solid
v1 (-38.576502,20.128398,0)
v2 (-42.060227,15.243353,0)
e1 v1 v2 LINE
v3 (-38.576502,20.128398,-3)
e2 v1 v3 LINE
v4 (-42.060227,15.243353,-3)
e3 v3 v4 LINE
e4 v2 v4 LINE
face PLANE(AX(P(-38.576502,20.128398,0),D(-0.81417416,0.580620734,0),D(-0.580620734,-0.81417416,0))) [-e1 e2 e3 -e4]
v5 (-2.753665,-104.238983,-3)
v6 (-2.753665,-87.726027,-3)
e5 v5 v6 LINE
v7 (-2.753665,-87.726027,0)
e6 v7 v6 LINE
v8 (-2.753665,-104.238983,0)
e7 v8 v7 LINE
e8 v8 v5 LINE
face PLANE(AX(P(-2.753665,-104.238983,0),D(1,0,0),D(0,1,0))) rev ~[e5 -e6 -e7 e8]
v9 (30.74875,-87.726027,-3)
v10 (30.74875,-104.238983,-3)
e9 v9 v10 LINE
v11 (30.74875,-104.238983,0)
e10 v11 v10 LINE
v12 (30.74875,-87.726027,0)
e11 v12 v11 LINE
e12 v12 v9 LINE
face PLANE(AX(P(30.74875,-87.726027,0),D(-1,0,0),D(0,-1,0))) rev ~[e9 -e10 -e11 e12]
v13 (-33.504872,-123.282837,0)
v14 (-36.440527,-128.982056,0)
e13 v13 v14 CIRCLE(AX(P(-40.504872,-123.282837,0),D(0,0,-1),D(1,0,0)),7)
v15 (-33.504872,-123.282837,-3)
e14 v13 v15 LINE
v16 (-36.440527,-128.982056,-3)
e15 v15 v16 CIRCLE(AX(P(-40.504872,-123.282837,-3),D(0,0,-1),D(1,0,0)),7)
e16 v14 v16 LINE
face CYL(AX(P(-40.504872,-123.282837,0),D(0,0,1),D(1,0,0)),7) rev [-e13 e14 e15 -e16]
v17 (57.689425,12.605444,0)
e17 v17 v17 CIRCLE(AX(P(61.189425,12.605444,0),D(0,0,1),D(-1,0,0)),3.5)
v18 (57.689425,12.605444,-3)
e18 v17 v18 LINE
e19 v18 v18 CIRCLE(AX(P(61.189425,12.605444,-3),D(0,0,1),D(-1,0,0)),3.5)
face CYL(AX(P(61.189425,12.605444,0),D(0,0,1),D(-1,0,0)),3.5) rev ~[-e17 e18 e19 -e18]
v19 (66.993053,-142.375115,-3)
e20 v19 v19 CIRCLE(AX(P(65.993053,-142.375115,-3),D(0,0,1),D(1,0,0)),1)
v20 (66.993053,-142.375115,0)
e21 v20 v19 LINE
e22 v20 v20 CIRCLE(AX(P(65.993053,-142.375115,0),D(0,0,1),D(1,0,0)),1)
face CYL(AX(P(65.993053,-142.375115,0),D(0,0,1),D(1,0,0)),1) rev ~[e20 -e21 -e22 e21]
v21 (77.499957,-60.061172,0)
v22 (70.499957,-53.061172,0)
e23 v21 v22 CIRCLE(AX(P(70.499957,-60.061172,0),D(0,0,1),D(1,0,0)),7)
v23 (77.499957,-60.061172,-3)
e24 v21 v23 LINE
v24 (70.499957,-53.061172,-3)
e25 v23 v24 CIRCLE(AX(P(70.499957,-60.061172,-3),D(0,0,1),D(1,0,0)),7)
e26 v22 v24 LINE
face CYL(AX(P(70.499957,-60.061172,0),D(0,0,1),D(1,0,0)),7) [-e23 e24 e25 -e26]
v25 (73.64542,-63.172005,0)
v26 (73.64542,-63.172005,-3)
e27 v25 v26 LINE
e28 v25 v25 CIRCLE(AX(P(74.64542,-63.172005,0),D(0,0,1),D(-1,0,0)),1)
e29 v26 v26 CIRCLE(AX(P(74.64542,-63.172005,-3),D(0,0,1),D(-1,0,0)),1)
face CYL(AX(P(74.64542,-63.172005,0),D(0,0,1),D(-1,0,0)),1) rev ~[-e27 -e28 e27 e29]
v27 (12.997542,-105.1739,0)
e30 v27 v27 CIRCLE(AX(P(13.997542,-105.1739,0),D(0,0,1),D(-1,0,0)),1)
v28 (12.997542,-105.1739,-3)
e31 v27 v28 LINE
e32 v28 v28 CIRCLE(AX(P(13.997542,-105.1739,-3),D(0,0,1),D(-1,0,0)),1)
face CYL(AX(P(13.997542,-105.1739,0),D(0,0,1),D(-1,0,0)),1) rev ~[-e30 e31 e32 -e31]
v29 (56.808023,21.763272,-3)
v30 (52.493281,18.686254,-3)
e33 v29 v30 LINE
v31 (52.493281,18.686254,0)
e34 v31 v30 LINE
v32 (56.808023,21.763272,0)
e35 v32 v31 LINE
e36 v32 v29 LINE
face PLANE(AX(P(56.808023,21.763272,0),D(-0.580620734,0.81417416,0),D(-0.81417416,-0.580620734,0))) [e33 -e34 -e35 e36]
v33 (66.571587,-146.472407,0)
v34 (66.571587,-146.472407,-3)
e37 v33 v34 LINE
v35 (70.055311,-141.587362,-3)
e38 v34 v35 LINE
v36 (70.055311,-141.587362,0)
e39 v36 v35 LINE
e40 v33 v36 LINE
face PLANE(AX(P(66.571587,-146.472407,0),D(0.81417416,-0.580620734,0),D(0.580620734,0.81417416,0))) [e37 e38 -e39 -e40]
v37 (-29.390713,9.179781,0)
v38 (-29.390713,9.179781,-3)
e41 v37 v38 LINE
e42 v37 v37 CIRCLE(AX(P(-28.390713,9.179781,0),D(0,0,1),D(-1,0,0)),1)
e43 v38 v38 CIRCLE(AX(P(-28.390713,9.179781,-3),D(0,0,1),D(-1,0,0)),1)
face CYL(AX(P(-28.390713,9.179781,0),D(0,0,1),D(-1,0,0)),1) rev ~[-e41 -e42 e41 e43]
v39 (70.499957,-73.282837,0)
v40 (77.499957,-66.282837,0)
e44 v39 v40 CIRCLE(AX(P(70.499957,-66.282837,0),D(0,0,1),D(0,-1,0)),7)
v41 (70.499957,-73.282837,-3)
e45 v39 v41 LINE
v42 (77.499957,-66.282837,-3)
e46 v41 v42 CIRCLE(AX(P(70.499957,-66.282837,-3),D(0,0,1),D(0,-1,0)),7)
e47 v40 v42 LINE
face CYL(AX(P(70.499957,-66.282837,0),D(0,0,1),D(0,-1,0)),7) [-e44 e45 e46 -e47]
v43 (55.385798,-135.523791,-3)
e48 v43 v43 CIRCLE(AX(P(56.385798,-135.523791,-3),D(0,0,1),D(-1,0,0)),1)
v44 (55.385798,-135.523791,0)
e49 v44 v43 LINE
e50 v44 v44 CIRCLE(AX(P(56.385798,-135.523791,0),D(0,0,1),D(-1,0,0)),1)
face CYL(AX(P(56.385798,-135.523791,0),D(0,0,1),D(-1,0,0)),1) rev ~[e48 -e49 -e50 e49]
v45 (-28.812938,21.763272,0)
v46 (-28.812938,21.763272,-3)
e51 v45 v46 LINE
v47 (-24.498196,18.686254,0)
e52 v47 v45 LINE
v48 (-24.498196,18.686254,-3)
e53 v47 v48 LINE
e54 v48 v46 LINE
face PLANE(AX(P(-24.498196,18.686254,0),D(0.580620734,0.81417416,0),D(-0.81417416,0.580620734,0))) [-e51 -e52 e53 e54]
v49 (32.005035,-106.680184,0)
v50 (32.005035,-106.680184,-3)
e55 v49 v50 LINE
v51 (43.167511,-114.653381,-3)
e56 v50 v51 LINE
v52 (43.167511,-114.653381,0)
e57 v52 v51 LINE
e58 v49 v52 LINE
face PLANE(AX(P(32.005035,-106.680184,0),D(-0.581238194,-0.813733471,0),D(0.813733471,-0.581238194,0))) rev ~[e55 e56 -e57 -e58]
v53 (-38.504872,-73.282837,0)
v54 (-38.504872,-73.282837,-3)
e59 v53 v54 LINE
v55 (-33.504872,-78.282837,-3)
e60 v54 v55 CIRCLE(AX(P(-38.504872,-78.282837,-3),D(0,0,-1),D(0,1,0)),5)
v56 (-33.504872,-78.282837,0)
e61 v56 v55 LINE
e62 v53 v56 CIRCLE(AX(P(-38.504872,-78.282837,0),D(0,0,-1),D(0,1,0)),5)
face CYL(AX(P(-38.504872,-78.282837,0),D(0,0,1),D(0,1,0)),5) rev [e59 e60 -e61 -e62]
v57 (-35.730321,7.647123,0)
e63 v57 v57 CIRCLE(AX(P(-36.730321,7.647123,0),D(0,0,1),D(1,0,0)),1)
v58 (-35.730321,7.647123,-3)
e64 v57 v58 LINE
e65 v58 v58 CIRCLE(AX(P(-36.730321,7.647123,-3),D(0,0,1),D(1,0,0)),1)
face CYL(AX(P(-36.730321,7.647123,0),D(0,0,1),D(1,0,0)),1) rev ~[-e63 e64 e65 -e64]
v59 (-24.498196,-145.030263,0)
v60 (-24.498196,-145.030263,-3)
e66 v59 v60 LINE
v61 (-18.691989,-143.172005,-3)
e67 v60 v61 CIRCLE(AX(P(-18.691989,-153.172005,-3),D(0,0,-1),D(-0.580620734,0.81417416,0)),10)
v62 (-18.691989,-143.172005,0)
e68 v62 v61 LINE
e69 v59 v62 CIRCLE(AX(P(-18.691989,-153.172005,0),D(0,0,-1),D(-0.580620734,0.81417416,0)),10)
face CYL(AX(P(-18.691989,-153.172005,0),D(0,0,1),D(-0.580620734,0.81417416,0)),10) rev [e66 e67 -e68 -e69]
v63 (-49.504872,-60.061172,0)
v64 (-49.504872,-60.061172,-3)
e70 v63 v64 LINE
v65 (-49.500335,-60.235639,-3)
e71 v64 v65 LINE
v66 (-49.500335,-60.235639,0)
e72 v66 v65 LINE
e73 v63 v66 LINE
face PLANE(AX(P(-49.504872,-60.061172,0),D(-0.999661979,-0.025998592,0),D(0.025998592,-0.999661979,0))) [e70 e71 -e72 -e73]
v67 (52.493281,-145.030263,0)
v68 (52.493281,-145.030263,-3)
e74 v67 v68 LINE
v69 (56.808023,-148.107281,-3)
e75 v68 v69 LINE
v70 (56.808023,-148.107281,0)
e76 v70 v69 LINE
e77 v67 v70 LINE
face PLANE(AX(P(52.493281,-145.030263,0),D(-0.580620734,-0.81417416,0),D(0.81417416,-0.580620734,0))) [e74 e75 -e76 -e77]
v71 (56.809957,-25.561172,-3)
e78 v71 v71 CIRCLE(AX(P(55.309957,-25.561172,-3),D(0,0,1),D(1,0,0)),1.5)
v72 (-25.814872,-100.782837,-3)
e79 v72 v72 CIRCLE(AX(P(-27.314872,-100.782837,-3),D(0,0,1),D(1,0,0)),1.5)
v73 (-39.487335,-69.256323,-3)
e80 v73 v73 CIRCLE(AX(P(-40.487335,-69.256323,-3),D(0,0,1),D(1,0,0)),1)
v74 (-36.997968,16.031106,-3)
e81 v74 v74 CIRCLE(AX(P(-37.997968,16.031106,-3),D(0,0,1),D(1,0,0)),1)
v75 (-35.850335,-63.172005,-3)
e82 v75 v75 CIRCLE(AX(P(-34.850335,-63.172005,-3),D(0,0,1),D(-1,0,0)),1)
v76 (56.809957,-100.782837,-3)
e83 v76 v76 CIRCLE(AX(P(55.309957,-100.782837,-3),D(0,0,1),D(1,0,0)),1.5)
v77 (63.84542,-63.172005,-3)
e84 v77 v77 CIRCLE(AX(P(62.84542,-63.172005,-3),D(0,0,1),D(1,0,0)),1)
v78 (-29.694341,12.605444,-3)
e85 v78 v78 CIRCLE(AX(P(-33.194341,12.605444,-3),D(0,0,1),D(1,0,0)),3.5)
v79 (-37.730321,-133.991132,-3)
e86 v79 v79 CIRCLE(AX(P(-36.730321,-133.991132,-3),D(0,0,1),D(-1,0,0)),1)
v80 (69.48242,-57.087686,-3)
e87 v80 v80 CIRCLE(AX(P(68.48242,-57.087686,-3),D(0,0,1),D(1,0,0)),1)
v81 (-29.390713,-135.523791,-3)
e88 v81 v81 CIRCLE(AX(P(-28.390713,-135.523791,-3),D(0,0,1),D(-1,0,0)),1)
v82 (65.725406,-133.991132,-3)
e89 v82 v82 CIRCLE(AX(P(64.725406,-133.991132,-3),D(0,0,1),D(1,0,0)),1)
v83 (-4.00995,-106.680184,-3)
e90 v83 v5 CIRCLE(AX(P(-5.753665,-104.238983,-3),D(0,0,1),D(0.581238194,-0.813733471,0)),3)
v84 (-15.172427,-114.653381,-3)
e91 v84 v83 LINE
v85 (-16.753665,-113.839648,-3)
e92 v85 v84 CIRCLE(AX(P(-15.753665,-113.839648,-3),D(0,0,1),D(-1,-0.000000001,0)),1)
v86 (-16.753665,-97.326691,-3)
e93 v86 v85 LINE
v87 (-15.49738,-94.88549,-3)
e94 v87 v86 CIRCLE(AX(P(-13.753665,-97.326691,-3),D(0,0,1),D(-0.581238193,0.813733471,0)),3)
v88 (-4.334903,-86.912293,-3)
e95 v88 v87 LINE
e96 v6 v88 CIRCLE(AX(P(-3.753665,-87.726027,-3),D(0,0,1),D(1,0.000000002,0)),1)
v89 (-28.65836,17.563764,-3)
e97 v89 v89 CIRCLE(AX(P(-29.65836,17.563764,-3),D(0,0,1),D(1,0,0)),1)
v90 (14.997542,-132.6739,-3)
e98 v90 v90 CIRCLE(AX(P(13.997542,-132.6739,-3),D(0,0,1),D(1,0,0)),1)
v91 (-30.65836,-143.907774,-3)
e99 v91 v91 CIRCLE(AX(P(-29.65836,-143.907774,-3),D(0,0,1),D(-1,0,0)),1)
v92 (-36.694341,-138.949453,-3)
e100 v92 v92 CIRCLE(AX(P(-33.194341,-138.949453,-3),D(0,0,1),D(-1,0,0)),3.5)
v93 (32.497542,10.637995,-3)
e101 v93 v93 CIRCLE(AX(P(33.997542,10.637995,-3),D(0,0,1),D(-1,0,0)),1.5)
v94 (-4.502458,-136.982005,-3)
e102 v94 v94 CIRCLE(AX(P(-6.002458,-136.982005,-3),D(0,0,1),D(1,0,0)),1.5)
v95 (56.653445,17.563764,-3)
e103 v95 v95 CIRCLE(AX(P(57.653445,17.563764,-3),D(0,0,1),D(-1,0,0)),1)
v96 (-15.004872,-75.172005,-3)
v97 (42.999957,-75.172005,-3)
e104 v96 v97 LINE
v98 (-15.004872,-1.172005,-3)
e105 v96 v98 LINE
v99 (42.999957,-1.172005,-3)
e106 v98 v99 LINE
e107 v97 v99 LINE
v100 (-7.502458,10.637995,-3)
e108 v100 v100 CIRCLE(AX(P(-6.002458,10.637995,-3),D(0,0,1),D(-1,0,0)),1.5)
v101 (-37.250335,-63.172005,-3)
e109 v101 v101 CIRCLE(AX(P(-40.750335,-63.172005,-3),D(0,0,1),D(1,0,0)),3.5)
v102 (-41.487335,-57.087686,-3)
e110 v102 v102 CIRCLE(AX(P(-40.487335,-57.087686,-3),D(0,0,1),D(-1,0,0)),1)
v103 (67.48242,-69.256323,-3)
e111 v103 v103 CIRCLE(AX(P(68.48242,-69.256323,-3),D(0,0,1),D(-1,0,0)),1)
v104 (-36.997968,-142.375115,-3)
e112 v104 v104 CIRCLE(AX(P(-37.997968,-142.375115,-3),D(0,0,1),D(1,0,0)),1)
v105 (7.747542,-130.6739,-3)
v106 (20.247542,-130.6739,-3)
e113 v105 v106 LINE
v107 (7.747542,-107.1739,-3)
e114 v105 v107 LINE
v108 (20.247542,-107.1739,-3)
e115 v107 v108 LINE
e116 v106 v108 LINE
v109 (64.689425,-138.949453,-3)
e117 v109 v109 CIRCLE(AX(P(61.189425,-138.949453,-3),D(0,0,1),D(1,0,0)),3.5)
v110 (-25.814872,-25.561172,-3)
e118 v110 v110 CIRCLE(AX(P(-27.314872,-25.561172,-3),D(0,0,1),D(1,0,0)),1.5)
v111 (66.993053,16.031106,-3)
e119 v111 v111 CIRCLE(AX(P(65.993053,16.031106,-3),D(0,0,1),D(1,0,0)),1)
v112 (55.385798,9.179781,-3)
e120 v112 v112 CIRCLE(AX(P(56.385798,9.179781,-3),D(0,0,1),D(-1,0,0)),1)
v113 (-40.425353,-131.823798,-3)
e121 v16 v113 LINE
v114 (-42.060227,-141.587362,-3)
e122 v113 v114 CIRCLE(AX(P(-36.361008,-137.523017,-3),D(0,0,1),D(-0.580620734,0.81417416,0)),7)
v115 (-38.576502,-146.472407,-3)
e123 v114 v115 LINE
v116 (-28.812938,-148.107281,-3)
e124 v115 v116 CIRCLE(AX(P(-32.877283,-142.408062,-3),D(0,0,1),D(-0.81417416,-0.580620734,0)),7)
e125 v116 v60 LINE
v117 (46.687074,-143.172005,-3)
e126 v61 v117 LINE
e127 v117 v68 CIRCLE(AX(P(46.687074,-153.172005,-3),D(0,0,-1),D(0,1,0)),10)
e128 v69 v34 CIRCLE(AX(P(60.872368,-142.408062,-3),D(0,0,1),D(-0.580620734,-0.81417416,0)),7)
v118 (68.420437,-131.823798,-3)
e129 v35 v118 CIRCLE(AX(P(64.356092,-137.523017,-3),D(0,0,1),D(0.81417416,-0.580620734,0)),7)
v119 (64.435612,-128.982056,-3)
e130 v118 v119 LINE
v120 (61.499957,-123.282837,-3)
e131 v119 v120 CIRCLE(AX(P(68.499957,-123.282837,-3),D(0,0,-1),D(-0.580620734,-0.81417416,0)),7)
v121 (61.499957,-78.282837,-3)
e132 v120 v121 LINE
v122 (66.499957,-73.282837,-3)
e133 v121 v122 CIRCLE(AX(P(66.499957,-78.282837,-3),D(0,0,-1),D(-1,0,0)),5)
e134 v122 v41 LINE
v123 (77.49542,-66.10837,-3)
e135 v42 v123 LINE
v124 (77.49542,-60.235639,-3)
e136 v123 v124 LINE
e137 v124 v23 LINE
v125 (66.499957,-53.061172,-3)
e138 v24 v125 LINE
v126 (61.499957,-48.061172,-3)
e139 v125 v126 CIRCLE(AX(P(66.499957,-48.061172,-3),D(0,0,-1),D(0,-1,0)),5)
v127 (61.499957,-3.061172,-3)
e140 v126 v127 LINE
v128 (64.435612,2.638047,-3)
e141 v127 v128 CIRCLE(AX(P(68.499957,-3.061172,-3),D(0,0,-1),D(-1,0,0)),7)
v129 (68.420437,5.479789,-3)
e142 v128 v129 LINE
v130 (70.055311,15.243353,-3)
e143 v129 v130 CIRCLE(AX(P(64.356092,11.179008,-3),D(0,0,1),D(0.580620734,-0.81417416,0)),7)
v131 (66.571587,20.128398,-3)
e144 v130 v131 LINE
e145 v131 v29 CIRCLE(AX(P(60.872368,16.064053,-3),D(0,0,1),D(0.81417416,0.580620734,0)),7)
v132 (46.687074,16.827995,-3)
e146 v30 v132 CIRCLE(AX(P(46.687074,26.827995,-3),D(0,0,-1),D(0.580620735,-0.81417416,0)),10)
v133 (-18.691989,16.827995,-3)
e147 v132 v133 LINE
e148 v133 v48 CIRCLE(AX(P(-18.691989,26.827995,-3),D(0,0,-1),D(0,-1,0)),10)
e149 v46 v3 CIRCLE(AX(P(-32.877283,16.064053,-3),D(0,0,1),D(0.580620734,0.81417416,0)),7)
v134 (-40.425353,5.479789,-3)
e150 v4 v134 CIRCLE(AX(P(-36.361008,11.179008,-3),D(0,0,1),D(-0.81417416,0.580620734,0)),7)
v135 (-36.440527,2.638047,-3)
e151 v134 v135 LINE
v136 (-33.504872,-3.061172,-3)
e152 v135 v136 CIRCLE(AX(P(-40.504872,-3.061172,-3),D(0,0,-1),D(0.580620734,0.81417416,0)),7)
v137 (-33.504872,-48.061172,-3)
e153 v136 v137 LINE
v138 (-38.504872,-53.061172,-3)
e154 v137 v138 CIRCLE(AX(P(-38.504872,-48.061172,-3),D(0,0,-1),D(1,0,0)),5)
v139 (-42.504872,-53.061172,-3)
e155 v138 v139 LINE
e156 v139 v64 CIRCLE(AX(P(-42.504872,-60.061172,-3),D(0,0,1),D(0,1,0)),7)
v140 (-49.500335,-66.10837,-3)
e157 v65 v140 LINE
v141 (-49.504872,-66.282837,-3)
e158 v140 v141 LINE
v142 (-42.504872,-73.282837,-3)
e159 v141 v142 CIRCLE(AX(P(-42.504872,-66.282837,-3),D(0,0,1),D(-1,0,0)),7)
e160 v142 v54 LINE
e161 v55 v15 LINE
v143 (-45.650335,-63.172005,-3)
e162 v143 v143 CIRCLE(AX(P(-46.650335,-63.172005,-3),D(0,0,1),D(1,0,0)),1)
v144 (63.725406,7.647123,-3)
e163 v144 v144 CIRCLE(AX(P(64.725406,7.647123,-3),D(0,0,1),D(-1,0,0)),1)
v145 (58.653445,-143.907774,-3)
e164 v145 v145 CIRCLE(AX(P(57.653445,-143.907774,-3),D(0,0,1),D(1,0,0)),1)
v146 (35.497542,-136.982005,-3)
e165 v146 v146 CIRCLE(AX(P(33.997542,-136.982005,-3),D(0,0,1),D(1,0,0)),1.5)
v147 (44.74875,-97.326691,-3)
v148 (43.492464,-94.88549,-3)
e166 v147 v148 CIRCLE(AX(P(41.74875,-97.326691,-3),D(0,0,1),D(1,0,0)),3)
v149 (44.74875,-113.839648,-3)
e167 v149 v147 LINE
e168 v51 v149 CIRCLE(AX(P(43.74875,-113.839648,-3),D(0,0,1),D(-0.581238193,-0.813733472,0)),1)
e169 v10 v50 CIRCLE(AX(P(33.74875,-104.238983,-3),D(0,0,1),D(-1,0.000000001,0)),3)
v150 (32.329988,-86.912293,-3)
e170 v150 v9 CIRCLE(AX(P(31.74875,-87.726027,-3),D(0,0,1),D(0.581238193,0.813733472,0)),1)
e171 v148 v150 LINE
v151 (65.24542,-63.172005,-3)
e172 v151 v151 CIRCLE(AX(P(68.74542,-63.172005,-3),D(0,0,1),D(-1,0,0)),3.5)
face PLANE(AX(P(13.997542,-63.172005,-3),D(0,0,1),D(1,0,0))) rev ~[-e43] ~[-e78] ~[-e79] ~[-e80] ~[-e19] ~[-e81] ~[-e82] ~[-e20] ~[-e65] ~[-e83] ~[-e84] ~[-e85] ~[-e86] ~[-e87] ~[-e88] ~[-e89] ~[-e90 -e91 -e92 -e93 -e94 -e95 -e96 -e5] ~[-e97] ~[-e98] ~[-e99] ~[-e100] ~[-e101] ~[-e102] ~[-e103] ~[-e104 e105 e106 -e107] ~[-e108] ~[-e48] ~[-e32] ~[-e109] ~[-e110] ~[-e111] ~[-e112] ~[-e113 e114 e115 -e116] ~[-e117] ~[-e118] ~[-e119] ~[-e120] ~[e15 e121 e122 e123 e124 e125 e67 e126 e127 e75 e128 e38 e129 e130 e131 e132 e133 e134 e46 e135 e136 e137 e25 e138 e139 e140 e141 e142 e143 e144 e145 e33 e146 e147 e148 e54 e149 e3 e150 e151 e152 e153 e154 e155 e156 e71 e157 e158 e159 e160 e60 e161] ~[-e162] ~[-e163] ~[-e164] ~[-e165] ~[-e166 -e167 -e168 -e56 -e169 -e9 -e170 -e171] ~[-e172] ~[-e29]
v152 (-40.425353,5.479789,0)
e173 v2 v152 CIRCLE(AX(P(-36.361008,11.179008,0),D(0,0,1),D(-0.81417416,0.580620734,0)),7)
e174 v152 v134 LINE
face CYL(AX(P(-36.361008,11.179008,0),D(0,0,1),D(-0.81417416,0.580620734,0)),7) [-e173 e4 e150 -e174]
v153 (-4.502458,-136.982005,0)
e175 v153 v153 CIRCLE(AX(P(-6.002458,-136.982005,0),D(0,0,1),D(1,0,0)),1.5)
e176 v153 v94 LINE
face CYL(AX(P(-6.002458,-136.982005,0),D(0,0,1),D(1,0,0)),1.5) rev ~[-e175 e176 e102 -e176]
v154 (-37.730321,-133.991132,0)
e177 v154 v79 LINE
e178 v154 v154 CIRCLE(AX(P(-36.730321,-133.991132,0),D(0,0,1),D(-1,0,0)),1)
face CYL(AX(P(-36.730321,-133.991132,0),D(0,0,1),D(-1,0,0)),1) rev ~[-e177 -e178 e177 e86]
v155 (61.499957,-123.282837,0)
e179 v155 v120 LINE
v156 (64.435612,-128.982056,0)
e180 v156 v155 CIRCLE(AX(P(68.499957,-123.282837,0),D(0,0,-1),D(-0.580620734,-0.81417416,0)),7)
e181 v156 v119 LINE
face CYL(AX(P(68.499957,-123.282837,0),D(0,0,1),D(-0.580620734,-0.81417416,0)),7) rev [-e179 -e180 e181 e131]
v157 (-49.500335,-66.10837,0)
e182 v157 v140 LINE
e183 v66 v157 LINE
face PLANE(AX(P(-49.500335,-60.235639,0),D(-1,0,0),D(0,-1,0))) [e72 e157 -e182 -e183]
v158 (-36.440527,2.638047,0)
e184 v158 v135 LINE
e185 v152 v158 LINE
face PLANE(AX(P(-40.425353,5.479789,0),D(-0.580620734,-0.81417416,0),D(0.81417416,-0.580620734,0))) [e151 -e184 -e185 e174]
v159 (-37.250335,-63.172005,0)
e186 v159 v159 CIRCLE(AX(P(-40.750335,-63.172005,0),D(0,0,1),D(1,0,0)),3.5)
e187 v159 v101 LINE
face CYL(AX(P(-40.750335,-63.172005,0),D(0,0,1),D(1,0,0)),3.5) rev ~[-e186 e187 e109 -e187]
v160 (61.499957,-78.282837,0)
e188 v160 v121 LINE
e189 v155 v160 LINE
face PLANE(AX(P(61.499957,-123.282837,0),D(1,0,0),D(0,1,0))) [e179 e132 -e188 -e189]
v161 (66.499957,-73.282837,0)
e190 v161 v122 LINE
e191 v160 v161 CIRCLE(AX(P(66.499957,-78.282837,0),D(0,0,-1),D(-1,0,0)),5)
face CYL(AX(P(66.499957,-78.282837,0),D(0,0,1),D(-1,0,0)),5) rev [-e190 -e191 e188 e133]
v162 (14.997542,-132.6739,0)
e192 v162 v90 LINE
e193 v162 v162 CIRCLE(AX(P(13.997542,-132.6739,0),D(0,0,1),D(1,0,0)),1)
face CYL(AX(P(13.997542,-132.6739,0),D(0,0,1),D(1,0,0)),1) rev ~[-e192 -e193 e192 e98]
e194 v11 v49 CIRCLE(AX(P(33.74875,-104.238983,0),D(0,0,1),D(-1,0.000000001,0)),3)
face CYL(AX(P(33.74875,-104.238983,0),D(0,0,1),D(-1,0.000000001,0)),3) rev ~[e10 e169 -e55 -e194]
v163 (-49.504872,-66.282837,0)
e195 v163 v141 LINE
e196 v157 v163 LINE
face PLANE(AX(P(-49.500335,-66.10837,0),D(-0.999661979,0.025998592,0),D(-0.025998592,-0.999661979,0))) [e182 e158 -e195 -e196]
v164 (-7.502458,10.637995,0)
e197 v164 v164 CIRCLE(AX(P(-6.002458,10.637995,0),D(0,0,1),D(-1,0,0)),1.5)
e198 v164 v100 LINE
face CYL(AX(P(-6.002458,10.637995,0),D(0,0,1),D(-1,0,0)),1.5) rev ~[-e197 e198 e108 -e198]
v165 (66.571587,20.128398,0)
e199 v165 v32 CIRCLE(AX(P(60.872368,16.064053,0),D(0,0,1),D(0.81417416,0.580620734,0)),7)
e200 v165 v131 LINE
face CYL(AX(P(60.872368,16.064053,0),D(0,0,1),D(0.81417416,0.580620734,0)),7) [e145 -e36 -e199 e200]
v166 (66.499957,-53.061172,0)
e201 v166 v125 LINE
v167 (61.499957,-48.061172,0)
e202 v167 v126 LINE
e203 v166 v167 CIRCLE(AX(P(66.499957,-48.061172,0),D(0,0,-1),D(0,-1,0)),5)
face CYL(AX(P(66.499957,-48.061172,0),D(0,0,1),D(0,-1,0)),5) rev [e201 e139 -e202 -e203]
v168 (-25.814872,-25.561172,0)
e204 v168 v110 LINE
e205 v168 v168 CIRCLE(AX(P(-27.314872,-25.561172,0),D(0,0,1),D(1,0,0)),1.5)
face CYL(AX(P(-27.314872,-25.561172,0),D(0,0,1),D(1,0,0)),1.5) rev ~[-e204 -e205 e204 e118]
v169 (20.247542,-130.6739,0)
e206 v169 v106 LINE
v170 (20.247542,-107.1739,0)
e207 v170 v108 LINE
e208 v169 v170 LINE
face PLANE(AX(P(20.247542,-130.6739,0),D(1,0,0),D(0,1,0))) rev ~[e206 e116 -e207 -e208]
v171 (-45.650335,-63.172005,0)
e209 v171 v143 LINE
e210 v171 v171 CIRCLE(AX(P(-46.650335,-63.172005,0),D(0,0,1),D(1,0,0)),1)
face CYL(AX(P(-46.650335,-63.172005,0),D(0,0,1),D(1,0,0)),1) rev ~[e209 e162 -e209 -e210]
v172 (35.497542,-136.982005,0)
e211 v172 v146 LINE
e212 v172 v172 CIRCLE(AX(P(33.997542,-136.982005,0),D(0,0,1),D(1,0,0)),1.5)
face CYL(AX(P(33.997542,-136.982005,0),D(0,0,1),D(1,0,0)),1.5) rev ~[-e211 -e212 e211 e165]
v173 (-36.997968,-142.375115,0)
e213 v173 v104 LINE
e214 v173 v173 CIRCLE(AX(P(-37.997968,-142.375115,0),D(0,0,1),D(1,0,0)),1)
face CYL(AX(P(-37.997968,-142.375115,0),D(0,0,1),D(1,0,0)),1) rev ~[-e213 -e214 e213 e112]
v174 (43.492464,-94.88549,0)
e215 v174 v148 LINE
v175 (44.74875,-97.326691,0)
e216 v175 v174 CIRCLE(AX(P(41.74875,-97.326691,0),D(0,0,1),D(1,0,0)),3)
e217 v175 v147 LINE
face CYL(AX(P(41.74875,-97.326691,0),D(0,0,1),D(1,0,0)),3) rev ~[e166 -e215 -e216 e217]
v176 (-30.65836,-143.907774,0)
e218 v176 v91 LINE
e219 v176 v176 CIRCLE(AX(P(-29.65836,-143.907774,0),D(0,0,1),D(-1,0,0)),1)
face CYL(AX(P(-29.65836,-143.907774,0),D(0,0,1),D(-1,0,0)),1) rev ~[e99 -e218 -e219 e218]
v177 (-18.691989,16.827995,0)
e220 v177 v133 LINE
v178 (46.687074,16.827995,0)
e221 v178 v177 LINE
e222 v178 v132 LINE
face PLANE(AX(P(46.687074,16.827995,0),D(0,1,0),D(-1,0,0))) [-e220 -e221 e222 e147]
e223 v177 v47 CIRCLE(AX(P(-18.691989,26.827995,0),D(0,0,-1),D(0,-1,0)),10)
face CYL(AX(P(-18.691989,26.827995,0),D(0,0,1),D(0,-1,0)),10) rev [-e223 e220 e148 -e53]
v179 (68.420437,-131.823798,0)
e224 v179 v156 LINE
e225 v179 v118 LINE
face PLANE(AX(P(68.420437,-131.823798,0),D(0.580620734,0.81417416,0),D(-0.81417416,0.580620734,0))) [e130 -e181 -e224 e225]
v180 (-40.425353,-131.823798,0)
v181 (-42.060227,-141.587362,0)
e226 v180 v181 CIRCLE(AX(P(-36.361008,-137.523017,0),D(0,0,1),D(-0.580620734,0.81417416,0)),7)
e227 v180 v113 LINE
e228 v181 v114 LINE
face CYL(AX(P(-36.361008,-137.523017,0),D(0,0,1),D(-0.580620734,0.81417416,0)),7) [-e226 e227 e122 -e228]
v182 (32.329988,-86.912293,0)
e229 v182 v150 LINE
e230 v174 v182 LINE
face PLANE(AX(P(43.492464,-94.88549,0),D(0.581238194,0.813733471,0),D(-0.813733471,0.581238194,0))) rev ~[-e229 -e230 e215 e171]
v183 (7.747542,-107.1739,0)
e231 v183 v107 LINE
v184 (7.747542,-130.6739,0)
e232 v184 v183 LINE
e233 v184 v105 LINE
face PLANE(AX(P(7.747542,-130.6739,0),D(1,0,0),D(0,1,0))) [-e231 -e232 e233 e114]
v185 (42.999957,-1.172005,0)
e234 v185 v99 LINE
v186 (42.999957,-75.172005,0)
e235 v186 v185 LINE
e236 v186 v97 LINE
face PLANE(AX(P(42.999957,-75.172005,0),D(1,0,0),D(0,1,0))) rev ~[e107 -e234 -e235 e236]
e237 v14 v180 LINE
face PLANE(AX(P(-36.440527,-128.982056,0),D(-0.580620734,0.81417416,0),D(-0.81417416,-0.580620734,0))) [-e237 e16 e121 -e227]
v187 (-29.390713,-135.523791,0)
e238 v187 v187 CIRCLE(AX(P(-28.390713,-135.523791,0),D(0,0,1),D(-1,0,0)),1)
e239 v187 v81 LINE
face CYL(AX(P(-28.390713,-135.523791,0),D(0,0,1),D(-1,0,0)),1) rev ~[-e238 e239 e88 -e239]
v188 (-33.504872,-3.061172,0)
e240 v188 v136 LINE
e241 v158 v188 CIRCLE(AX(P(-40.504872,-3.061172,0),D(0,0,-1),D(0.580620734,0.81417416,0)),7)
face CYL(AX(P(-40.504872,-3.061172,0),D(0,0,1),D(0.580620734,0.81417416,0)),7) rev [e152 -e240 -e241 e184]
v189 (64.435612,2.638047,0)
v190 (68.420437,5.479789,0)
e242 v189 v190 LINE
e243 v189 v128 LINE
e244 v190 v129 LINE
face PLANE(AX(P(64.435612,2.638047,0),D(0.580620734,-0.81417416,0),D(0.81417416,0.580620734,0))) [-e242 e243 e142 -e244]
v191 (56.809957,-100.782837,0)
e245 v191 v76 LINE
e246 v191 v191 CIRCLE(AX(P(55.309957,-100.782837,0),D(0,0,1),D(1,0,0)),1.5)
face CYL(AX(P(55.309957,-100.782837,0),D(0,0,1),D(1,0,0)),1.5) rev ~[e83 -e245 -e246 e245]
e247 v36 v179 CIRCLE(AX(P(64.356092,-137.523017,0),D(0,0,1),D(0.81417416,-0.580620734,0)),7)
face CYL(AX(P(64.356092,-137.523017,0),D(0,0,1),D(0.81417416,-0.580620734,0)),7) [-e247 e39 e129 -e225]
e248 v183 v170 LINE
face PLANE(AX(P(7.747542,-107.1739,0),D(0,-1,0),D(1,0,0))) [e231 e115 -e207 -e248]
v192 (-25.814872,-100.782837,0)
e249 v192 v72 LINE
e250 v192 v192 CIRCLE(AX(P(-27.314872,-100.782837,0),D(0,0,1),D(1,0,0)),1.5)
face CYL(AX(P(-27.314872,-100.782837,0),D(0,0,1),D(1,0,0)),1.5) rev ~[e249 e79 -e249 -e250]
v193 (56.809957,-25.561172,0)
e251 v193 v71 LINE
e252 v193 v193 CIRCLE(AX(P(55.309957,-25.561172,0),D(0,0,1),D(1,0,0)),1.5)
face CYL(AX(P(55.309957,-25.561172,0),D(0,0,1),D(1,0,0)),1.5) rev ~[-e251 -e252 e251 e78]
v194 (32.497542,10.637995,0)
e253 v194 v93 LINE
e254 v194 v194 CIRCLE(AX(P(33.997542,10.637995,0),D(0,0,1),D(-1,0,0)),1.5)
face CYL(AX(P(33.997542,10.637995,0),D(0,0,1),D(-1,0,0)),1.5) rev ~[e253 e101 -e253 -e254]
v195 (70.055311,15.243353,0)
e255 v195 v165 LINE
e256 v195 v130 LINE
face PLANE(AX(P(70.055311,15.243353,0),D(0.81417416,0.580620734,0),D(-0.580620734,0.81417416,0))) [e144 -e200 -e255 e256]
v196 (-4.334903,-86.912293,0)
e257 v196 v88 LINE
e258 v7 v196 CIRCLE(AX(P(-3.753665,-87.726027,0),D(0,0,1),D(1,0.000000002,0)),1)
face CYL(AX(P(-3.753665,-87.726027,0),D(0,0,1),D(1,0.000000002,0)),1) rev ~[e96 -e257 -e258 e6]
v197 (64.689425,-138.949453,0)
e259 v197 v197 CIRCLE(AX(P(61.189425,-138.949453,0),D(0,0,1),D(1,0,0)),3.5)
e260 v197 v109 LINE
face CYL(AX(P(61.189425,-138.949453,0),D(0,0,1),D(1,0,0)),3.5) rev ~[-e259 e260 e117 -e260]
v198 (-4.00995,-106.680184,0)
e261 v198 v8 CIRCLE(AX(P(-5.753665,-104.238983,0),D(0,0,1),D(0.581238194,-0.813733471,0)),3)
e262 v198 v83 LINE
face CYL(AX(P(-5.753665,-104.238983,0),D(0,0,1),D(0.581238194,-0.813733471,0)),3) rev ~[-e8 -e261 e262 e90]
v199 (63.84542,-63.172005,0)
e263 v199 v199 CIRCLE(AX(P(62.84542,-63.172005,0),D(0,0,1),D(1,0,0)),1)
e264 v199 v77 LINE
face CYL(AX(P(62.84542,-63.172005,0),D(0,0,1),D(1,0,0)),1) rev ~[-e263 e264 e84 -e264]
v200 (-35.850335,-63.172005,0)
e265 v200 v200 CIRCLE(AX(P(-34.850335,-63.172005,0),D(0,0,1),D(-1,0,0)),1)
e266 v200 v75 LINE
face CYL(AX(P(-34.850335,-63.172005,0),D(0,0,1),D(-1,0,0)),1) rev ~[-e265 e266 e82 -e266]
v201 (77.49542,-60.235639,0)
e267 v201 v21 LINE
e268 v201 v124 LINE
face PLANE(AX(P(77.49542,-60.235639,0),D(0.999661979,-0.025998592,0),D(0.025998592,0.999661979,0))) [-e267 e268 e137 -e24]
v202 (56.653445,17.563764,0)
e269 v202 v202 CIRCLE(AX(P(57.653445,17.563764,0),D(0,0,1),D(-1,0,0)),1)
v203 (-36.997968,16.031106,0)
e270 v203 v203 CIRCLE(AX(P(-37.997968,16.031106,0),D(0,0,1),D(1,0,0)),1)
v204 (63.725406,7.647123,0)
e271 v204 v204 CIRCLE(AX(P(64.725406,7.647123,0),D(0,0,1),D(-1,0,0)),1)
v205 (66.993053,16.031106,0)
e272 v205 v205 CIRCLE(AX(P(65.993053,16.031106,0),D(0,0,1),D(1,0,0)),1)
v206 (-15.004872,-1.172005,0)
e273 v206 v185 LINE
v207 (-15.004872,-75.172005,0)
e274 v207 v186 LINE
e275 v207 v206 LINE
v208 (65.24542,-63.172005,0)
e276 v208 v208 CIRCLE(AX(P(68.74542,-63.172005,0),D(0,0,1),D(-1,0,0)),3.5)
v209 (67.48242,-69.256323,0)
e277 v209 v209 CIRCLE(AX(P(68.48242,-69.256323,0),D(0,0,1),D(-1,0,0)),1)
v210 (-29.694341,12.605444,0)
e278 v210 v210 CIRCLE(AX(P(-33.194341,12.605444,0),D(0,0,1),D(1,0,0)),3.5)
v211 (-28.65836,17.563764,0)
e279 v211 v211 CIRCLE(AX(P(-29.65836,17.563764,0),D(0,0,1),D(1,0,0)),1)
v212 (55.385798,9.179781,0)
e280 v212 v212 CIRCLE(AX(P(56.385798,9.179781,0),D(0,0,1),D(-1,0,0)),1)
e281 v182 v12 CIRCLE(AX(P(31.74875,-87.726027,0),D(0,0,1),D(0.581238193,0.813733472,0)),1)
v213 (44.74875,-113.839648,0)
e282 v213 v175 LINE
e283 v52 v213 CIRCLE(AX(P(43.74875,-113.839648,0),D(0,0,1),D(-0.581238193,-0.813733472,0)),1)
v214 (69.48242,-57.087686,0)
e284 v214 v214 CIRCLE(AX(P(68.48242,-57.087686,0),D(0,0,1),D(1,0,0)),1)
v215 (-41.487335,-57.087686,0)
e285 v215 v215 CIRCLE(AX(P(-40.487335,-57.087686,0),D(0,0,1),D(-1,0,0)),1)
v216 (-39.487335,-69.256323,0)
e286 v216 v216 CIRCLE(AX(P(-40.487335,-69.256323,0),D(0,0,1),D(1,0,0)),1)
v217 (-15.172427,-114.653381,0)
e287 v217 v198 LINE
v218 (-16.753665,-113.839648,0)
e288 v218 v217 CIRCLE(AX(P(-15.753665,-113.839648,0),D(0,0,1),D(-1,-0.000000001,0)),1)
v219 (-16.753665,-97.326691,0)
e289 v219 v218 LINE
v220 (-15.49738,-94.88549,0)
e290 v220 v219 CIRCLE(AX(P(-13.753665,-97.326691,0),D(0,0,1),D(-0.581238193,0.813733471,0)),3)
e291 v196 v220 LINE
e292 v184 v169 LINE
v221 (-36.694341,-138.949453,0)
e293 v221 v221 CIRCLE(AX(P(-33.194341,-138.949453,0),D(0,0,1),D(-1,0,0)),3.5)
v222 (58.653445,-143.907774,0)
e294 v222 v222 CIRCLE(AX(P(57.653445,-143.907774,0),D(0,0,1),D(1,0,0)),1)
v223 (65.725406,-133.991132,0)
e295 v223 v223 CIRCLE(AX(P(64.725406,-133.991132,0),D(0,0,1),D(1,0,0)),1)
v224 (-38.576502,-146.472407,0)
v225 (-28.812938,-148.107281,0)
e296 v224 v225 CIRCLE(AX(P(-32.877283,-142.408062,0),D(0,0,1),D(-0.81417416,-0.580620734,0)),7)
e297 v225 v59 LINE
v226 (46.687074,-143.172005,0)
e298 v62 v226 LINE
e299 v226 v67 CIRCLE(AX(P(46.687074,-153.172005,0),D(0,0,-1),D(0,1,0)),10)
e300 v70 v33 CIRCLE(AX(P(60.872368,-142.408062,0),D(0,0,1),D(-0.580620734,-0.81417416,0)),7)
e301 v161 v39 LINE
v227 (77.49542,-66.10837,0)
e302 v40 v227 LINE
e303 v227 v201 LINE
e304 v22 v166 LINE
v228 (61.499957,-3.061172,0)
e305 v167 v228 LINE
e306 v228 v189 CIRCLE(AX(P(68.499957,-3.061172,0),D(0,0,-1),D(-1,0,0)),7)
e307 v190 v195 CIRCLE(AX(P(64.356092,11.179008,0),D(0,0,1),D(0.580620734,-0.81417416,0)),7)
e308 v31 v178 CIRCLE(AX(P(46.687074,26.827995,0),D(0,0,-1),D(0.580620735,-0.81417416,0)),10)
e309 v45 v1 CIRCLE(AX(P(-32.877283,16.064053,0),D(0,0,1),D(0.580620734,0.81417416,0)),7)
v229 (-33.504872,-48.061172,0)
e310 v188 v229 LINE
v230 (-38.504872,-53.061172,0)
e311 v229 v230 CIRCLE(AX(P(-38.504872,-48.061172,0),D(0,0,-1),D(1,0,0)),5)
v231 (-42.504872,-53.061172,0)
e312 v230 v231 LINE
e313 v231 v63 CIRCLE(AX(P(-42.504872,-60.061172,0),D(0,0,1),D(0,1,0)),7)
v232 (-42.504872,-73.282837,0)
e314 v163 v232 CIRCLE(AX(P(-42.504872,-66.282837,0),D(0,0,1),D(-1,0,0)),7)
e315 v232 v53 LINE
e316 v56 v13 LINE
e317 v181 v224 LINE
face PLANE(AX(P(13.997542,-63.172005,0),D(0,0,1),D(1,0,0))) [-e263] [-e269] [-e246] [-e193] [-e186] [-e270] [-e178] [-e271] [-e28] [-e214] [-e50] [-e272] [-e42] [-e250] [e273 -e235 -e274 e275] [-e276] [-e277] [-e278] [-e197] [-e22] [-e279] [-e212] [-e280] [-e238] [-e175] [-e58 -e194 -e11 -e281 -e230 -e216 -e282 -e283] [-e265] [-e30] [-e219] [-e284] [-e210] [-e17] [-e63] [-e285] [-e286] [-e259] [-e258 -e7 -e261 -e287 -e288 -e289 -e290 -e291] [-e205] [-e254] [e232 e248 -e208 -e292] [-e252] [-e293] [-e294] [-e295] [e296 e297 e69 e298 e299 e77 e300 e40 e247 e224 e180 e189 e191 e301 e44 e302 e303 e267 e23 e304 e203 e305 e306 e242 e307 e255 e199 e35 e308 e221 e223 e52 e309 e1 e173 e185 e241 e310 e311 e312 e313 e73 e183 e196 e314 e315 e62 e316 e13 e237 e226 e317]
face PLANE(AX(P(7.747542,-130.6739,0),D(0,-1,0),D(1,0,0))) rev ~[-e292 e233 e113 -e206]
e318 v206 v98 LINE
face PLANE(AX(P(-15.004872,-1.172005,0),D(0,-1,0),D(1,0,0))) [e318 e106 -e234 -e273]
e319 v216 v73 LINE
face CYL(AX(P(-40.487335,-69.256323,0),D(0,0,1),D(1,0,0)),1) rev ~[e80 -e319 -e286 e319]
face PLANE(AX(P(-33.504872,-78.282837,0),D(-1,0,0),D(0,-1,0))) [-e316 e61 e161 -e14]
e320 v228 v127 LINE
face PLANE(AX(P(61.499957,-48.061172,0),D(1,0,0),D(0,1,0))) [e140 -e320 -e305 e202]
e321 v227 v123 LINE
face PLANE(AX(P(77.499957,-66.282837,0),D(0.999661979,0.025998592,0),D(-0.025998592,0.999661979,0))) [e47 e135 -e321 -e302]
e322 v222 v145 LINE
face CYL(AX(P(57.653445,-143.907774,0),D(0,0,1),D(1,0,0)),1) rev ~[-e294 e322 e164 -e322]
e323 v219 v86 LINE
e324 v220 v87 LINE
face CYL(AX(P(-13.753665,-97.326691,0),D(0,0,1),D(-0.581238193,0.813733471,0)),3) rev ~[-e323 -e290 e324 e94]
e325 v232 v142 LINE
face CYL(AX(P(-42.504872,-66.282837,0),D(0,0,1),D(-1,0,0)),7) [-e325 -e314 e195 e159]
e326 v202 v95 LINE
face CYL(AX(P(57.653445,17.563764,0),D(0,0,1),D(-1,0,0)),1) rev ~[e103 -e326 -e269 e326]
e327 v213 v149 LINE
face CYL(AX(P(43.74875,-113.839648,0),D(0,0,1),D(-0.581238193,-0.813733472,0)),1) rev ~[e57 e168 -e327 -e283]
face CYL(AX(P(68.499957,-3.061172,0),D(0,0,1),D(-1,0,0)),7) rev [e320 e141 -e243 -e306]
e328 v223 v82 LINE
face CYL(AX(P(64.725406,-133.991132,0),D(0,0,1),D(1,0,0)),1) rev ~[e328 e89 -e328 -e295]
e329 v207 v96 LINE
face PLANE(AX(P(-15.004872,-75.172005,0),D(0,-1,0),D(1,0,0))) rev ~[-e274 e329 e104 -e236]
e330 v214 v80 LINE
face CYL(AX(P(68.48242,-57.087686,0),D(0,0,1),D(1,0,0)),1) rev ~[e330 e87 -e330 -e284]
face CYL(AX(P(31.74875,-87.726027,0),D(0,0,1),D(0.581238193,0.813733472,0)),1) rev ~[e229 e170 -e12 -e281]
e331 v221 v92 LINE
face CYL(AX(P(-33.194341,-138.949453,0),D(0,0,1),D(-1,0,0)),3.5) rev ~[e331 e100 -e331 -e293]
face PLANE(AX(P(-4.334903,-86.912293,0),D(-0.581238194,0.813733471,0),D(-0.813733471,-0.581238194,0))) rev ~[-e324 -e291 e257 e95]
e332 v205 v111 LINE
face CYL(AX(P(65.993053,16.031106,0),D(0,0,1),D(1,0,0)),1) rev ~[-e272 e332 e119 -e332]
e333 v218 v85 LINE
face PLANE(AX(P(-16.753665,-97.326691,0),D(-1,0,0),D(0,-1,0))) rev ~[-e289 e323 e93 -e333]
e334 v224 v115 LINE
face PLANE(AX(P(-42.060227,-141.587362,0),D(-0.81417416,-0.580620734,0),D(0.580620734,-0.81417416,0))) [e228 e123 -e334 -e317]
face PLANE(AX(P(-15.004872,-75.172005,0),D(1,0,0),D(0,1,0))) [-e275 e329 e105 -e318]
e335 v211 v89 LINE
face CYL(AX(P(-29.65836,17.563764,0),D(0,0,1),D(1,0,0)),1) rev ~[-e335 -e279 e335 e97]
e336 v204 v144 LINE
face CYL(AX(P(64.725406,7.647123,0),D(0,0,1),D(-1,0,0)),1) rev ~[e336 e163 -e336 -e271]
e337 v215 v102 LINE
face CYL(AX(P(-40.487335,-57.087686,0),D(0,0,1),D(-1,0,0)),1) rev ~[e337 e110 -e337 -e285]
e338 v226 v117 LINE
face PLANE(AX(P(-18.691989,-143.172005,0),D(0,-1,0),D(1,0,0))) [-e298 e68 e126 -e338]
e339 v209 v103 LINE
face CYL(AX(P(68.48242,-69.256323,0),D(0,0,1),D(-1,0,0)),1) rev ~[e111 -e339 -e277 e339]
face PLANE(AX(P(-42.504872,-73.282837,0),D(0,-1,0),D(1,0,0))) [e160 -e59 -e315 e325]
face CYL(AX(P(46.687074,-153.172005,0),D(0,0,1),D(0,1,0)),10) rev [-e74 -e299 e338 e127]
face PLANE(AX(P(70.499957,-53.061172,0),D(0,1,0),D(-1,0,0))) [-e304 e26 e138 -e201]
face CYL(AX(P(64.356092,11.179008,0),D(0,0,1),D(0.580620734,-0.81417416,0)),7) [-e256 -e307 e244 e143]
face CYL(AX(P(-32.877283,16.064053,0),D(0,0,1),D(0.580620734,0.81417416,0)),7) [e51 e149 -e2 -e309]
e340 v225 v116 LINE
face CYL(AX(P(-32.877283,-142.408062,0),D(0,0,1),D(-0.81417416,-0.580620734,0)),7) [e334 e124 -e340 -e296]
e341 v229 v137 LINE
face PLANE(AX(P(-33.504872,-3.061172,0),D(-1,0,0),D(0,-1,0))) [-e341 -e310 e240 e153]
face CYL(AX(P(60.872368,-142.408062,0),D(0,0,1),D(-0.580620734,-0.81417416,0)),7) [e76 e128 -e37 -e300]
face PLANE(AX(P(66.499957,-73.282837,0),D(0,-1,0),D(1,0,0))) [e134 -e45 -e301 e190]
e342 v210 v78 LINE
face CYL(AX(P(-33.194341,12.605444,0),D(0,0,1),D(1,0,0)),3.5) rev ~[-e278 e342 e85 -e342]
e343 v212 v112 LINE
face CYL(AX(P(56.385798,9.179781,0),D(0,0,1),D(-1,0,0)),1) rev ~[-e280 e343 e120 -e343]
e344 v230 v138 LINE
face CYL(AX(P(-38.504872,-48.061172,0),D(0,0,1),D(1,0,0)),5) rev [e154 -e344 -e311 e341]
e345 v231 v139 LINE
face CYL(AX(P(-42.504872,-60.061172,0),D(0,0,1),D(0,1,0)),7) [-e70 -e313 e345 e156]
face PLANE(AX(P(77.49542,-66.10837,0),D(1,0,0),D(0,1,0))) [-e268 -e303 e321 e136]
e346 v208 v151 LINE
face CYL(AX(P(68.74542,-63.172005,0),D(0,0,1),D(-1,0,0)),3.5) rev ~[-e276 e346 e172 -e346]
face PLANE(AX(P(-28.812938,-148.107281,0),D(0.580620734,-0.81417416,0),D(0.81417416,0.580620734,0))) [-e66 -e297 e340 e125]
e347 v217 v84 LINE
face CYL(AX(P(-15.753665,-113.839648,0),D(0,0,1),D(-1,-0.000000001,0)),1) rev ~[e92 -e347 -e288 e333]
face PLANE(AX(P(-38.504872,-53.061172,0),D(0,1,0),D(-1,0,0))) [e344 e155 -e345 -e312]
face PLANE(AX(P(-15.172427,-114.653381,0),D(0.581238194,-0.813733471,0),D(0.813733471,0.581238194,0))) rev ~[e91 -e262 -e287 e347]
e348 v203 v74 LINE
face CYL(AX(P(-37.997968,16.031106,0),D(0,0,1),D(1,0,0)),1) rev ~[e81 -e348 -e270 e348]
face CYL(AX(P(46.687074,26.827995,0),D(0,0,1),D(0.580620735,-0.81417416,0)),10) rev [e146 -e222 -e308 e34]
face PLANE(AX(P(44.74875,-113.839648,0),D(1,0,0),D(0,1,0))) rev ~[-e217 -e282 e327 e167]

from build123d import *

# Parameters (mm, degrees)
SKETCH1_R       = 1
SKETCH1_R_2     = 3.5
SKETCH1_R_3     = 1.5
SKETCH1_W       = 58.004829366
SKETCH1_H       = 74
SKETCH1_W_2     = 12.5
SKETCH1_H_2     = 23.5
EXTRUDE_1_DEPTH = 3


with BuildPart() as part:
    # Sketch1 → Бобышка-Вытянуть1 (new body)
    with BuildSketch(Plane.XY):
        with BuildLine():
            Line((-24.498196466, 18.686253871), (-28.812938034, 21.763271713))
            ThreePointArc((-28.812938034, 21.763271713), (-34.033313652, 22.967935089), (-38.576502294, 20.128397731))
            Line((-38.576502294, 20.128397731), (-42.0602267, 15.24335277))
            ThreePointArc((-42.0602267, 15.24335277), (-43.264890076, 10.022977152), (-40.425352718, 5.47978851))
            Line((-40.425352718, 5.47978851), (-36.440527218, 2.638047245))
            ThreePointArc((-36.440527218, 2.638047245), (-34.281914219, 0.144259766), (-33.504872357, -3.061171876))
            Line((-33.504872357, -3.061171876), (-33.504872357, -48.061171876))
            ThreePointArc((-33.504872357, -48.061171876), (-34.969338451, -51.596705782), (-38.504872357, -53.061171876))
            Line((-38.504872357, -53.061171876), (-42.504872357, -53.061171876))
            ThreePointArc((-42.504872357, -53.061171876), (-47.454619825, -55.111424408), (-49.504872357, -60.061171876))
            Line((-49.504872357, -60.061171876), (-49.500334917, -60.235639257))
            Line((-49.500334917, -60.235639257), (-49.500334917, -66.108369799))
            Line((-49.500334917, -66.108369799), (-49.504872357, -66.28283718))
            ThreePointArc((-49.504872357, -66.28283718), (-47.454619825, -71.232584649), (-42.504872357, -73.28283718))
            Line((-42.504872357, -73.28283718), (-38.504872357, -73.28283718))
            ThreePointArc((-38.504872357, -73.28283718), (-34.969338451, -74.747303275), (-33.504872357, -78.28283718))
            Line((-33.504872357, -78.28283718), (-33.504872357, -123.28283718))
            ThreePointArc((-33.504872357, -123.28283718), (-34.281914219, -126.488268823), (-36.440527218, -128.982056301))
            Line((-36.440527218, -128.982056301), (-40.425352718, -131.823797566))
            ThreePointArc((-40.425352718, -131.823797566), (-43.264890076, -136.366986209), (-42.0602267, -141.587361827))
            Line((-42.0602267, -141.587361827), (-38.576502294, -146.472406787))
            ThreePointArc((-38.576502294, -146.472406787), (-34.033313652, -149.311944145), (-28.812938034, -148.107280769))
            Line((-28.812938034, -148.107280769), (-24.498196466, -145.030262927))
            ThreePointArc((-24.498196466, -145.030262927), (-21.740151192, -143.647892601), (-18.691989124, -143.172004528))
            Line((-18.691989124, -143.172004528), (46.687073776, -143.172004528))
            ThreePointArc((46.687073776, -143.172004528), (49.735235844, -143.647892601), (52.493281118, -145.030262927))
            Line((52.493281118, -145.030262927), (56.808022686, -148.107280769))
            ThreePointArc((56.808022686, -148.107280769), (62.028398304, -149.311944145), (66.571586947, -146.472406787))
            Line((66.571586947, -146.472406787), (70.055311352, -141.587361827))
            ThreePointArc((70.055311352, -141.587361827), (71.259974728, -136.366986209), (68.42043737, -131.823797566))
            Line((68.42043737, -131.823797566), (64.43561187, -128.982056301))
            ThreePointArc((64.43561187, -128.982056301), (62.276998871, -126.488268823), (61.499957009, -123.28283718))
            Line((61.499957009, -123.28283718), (61.499957009, -78.28283718))
            ThreePointArc((61.499957009, -78.28283718), (62.964423103, -74.747303275), (66.499957009, -73.28283718))
            Line((66.499957009, -73.28283718), (70.499957009, -73.28283718))
            ThreePointArc((70.499957009, -73.28283718), (75.449704478, -71.232584649), (77.499957009, -66.28283718))
            Line((77.499957009, -66.28283718), (77.495419569, -66.108369799))
            Line((77.495419569, -66.108369799), (77.495419569, -60.235639257))
            Line((77.495419569, -60.235639257), (77.499957009, -60.061171876))
            ThreePointArc((77.499957009, -60.061171876), (75.449704478, -55.111424407), (70.499957009, -53.061171876))
            Line((70.499957009, -53.061171876), (66.499957009, -53.061171876))
            ThreePointArc((66.499957009, -53.061171876), (62.964423103, -51.596705782), (61.499957009, -48.061171876))
            Line((61.499957009, -48.061171876), (61.499957009, -3.061171876))
            ThreePointArc((61.499957009, -3.061171876), (62.276998871, 0.144259766), (64.43561187, 2.638047245))
            Line((64.43561187, 2.638047245), (68.42043737, 5.47978851))
            ThreePointArc((68.42043737, 5.47978851), (71.259974728, 10.022977152), (70.055311352, 15.24335277))
            Line((70.055311352, 15.24335277), (66.571586947, 20.128397731))
            ThreePointArc((66.571586947, 20.128397731), (62.028398304, 22.967935089), (56.808022686, 21.763271713))
            Line((56.808022686, 21.763271713), (52.493281118, 18.686253871))
            ThreePointArc((52.493281118, 18.686253871), (49.735235844, 17.303883544), (46.687073776, 16.827995472))
            Line((46.687073776, 16.827995472), (-18.691989124, 16.827995472))
            ThreePointArc((-18.691989124, 16.827995472), (-21.740151192, 17.303883544), (-24.498196466, 18.686253871))
        make_face()
        with Locations((-37.997968141, 16.031106158)):
            Circle(SKETCH1_R, mode=Mode.SUBTRACT)
        with Locations((-29.658360325, 17.563764462)):
            Circle(SKETCH1_R, mode=Mode.SUBTRACT)
        with Locations((-36.730320867, 7.647123191)):
            Circle(SKETCH1_R, mode=Mode.SUBTRACT)
        with Locations(Location((-28.390713051, 9.179781495, 0), (0, 0, 180))):
            Circle(SKETCH1_R, mode=Mode.SUBTRACT)
        with Locations((-33.194340596, 12.605443826)):
            Circle(SKETCH1_R_2, mode=Mode.SUBTRACT)
        with Locations(Location((61.189425248, 12.605443826, 0), (0, 0, 180))):
            Circle(SKETCH1_R_2, mode=Mode.SUBTRACT)
        with Locations(Location((56.385797703, 9.179781495, 0), (0, 0, 180))):
            Circle(SKETCH1_R, mode=Mode.SUBTRACT)
        with Locations(Location((64.725405519, 7.647123191, 0), (0, 0, 180))):
            Circle(SKETCH1_R, mode=Mode.SUBTRACT)
        with Locations(Location((57.653444977, 17.563764462, 0), (0, 0, 180))):
            Circle(SKETCH1_R, mode=Mode.SUBTRACT)
        with Locations((65.993052793, 16.031106158)):
            Circle(SKETCH1_R, mode=Mode.SUBTRACT)
        with Locations((65.993052793, -142.375115215)):
            Circle(SKETCH1_R, mode=Mode.SUBTRACT)
        with Locations((57.653444977, -143.907773518)):
            Circle(SKETCH1_R, mode=Mode.SUBTRACT)
        with Locations((64.725405519, -133.991132248)):
            Circle(SKETCH1_R, mode=Mode.SUBTRACT)
        with Locations(Location((56.385797703, -135.523790551, 0), (0, 0, 180))):
            Circle(SKETCH1_R, mode=Mode.SUBTRACT)
        with Locations((61.189425248, -138.949452883)):
            Circle(SKETCH1_R_2, mode=Mode.SUBTRACT)
        with Locations(Location((-33.194340596, -138.949452883, 0), (0, 0, 180))):
            Circle(SKETCH1_R_2, mode=Mode.SUBTRACT)
        with Locations(Location((-28.390713051, -135.523790551, 0), (0, 0, 180))):
            Circle(SKETCH1_R, mode=Mode.SUBTRACT)
        with Locations(Location((-36.730320867, -133.991132248, 0), (0, 0, 180))):
            Circle(SKETCH1_R, mode=Mode.SUBTRACT)
        with Locations(Location((-29.658360325, -143.907773518, 0), (0, 0, 180))):
            Circle(SKETCH1_R, mode=Mode.SUBTRACT)
        with Locations((-37.997968141, -142.375115215)):
            Circle(SKETCH1_R, mode=Mode.SUBTRACT)
        with Locations((55.309957009, -25.561171876)):
            Circle(SKETCH1_R_3, mode=Mode.SUBTRACT)
        with Locations((33.997542326, -136.982004528)):
            Circle(SKETCH1_R_3, mode=Mode.SUBTRACT)
        with Locations((-6.002457674, -136.982004528)):
            Circle(SKETCH1_R_3, mode=Mode.SUBTRACT)
        with Locations(Location((-6.002457674, 10.637995472, 0), (0, 0, 180))):
            Circle(SKETCH1_R_3, mode=Mode.SUBTRACT)
        with Locations(Location((33.997542326, 10.637995472, 0), (0, 0, 180))):
            Circle(SKETCH1_R_3, mode=Mode.SUBTRACT)
        with Locations((13.997542326, -132.673899794)):
            Circle(SKETCH1_R, mode=Mode.SUBTRACT)
        with Locations(Location((13.997542326, -105.173899794, 0), (0, 0, 180))):
            Circle(SKETCH1_R, mode=Mode.SUBTRACT)
        with Locations((-27.314872357, -25.561171876)):
            Circle(SKETCH1_R_3, mode=Mode.SUBTRACT)
        with Locations((55.309957009, -100.78283718)):
            Circle(SKETCH1_R_3, mode=Mode.SUBTRACT)
        with Locations((-27.314872357, -100.78283718)):
            Circle(SKETCH1_R_3, mode=Mode.SUBTRACT)
        with Locations((-40.750334917, -63.172004528)):
            Circle(SKETCH1_R_2, mode=Mode.SUBTRACT)
        with Locations((-46.650334917, -63.172004528)):
            Circle(SKETCH1_R, mode=Mode.SUBTRACT)
        with Locations(Location((-34.850334917, -63.172004528, 0), (0, 0, 180))):
            Circle(SKETCH1_R, mode=Mode.SUBTRACT)
        with Locations((-40.487335358, -69.256322997)):
            Circle(SKETCH1_R, mode=Mode.SUBTRACT)
        with Locations(Location((-40.487335358, -57.087686059, 0), (0, 0, 180))):
            Circle(SKETCH1_R, mode=Mode.SUBTRACT)
        with Locations((68.48242001, -57.087686059)):
            Circle(SKETCH1_R, mode=Mode.SUBTRACT)
        with Locations(Location((68.48242001, -69.256322997, 0), (0, 0, 180))):
            Circle(SKETCH1_R, mode=Mode.SUBTRACT)
        with Locations((62.845419569, -63.172004528)):
            Circle(SKETCH1_R, mode=Mode.SUBTRACT)
        with Locations(Location((74.645419569, -63.172004528, 0), (0, 0, 180))):
            Circle(SKETCH1_R, mode=Mode.SUBTRACT)
        with Locations(Location((68.745419569, -63.172004528, 0), (0, 0, 180))):
            Circle(SKETCH1_R_2, mode=Mode.SUBTRACT)
        with Locations((13.997542326, -38.172004528)):
            Rectangle(SKETCH1_W, SKETCH1_H, mode=Mode.SUBTRACT)
        with Locations((13.997542326, -118.923899794)):
            Rectangle(SKETCH1_W_2, SKETCH1_H_2, mode=Mode.SUBTRACT)
        with BuildLine():
            Line((32.005035086, -106.680183908), (43.167511474, -114.653381328))
            ThreePointArc((43.167511474, -114.653381328), (44.206331249, -114.728815499), (44.748749668, -113.839647857))
            Line((44.748749668, -113.839647857), (44.748749668, -100.78283718))
            Line((44.748749668, -100.78283718), (44.748749668, -97.326690866))
            ThreePointArc((44.748749668, -97.326690866), (44.416252596, -95.953946124), (43.492464249, -94.885490453))
            Line((43.492464249, -94.885490453), (32.329987861, -86.912293033))
            ThreePointArc((32.329987861, -86.912293033), (31.291168087, -86.836858862), (30.748749668, -87.726026504))
            Line((30.748749668, -87.726026504), (30.748749668, -100.78283718))
            Line((30.748749668, -100.78283718), (30.748749668, -104.238983495))
            ThreePointArc((30.748749668, -104.238983495), (31.081246739, -105.611728237), (32.005035086, -106.680183908))
        make_face(mode=Mode.SUBTRACT)
        with BuildLine():
            Line((-2.753665015, -100.78283718), (-2.753665015, -87.726026504))
            ThreePointArc((-2.753665015, -87.726026504), (-3.296083435, -86.836858862), (-4.334903209, -86.912293033))
            Line((-4.334903209, -86.912293033), (-15.497379597, -94.885490453))
            ThreePointArc((-15.497379597, -94.885490453), (-16.421167944, -95.953946124), (-16.753665015, -97.326690866))
            Line((-16.753665015, -97.326690866), (-16.753665015, -100.78283718))
            Line((-16.753665015, -100.78283718), (-16.753665015, -113.839647857))
            ThreePointArc((-16.753665015, -113.839647857), (-16.211246596, -114.728815499), (-15.172426822, -114.653381328))
            Line((-15.172426822, -114.653381328), (-4.009950434, -106.680183908))
            ThreePointArc((-4.009950434, -106.680183908), (-3.086162087, -105.611728237), (-2.753665015, -104.238983495))
            Line((-2.753665015, -104.238983495), (-2.753665015, -100.78283718))
        make_face(mode=Mode.SUBTRACT)
    extrude(amount=-EXTRUDE_1_DEPTH)


solid = part.part
